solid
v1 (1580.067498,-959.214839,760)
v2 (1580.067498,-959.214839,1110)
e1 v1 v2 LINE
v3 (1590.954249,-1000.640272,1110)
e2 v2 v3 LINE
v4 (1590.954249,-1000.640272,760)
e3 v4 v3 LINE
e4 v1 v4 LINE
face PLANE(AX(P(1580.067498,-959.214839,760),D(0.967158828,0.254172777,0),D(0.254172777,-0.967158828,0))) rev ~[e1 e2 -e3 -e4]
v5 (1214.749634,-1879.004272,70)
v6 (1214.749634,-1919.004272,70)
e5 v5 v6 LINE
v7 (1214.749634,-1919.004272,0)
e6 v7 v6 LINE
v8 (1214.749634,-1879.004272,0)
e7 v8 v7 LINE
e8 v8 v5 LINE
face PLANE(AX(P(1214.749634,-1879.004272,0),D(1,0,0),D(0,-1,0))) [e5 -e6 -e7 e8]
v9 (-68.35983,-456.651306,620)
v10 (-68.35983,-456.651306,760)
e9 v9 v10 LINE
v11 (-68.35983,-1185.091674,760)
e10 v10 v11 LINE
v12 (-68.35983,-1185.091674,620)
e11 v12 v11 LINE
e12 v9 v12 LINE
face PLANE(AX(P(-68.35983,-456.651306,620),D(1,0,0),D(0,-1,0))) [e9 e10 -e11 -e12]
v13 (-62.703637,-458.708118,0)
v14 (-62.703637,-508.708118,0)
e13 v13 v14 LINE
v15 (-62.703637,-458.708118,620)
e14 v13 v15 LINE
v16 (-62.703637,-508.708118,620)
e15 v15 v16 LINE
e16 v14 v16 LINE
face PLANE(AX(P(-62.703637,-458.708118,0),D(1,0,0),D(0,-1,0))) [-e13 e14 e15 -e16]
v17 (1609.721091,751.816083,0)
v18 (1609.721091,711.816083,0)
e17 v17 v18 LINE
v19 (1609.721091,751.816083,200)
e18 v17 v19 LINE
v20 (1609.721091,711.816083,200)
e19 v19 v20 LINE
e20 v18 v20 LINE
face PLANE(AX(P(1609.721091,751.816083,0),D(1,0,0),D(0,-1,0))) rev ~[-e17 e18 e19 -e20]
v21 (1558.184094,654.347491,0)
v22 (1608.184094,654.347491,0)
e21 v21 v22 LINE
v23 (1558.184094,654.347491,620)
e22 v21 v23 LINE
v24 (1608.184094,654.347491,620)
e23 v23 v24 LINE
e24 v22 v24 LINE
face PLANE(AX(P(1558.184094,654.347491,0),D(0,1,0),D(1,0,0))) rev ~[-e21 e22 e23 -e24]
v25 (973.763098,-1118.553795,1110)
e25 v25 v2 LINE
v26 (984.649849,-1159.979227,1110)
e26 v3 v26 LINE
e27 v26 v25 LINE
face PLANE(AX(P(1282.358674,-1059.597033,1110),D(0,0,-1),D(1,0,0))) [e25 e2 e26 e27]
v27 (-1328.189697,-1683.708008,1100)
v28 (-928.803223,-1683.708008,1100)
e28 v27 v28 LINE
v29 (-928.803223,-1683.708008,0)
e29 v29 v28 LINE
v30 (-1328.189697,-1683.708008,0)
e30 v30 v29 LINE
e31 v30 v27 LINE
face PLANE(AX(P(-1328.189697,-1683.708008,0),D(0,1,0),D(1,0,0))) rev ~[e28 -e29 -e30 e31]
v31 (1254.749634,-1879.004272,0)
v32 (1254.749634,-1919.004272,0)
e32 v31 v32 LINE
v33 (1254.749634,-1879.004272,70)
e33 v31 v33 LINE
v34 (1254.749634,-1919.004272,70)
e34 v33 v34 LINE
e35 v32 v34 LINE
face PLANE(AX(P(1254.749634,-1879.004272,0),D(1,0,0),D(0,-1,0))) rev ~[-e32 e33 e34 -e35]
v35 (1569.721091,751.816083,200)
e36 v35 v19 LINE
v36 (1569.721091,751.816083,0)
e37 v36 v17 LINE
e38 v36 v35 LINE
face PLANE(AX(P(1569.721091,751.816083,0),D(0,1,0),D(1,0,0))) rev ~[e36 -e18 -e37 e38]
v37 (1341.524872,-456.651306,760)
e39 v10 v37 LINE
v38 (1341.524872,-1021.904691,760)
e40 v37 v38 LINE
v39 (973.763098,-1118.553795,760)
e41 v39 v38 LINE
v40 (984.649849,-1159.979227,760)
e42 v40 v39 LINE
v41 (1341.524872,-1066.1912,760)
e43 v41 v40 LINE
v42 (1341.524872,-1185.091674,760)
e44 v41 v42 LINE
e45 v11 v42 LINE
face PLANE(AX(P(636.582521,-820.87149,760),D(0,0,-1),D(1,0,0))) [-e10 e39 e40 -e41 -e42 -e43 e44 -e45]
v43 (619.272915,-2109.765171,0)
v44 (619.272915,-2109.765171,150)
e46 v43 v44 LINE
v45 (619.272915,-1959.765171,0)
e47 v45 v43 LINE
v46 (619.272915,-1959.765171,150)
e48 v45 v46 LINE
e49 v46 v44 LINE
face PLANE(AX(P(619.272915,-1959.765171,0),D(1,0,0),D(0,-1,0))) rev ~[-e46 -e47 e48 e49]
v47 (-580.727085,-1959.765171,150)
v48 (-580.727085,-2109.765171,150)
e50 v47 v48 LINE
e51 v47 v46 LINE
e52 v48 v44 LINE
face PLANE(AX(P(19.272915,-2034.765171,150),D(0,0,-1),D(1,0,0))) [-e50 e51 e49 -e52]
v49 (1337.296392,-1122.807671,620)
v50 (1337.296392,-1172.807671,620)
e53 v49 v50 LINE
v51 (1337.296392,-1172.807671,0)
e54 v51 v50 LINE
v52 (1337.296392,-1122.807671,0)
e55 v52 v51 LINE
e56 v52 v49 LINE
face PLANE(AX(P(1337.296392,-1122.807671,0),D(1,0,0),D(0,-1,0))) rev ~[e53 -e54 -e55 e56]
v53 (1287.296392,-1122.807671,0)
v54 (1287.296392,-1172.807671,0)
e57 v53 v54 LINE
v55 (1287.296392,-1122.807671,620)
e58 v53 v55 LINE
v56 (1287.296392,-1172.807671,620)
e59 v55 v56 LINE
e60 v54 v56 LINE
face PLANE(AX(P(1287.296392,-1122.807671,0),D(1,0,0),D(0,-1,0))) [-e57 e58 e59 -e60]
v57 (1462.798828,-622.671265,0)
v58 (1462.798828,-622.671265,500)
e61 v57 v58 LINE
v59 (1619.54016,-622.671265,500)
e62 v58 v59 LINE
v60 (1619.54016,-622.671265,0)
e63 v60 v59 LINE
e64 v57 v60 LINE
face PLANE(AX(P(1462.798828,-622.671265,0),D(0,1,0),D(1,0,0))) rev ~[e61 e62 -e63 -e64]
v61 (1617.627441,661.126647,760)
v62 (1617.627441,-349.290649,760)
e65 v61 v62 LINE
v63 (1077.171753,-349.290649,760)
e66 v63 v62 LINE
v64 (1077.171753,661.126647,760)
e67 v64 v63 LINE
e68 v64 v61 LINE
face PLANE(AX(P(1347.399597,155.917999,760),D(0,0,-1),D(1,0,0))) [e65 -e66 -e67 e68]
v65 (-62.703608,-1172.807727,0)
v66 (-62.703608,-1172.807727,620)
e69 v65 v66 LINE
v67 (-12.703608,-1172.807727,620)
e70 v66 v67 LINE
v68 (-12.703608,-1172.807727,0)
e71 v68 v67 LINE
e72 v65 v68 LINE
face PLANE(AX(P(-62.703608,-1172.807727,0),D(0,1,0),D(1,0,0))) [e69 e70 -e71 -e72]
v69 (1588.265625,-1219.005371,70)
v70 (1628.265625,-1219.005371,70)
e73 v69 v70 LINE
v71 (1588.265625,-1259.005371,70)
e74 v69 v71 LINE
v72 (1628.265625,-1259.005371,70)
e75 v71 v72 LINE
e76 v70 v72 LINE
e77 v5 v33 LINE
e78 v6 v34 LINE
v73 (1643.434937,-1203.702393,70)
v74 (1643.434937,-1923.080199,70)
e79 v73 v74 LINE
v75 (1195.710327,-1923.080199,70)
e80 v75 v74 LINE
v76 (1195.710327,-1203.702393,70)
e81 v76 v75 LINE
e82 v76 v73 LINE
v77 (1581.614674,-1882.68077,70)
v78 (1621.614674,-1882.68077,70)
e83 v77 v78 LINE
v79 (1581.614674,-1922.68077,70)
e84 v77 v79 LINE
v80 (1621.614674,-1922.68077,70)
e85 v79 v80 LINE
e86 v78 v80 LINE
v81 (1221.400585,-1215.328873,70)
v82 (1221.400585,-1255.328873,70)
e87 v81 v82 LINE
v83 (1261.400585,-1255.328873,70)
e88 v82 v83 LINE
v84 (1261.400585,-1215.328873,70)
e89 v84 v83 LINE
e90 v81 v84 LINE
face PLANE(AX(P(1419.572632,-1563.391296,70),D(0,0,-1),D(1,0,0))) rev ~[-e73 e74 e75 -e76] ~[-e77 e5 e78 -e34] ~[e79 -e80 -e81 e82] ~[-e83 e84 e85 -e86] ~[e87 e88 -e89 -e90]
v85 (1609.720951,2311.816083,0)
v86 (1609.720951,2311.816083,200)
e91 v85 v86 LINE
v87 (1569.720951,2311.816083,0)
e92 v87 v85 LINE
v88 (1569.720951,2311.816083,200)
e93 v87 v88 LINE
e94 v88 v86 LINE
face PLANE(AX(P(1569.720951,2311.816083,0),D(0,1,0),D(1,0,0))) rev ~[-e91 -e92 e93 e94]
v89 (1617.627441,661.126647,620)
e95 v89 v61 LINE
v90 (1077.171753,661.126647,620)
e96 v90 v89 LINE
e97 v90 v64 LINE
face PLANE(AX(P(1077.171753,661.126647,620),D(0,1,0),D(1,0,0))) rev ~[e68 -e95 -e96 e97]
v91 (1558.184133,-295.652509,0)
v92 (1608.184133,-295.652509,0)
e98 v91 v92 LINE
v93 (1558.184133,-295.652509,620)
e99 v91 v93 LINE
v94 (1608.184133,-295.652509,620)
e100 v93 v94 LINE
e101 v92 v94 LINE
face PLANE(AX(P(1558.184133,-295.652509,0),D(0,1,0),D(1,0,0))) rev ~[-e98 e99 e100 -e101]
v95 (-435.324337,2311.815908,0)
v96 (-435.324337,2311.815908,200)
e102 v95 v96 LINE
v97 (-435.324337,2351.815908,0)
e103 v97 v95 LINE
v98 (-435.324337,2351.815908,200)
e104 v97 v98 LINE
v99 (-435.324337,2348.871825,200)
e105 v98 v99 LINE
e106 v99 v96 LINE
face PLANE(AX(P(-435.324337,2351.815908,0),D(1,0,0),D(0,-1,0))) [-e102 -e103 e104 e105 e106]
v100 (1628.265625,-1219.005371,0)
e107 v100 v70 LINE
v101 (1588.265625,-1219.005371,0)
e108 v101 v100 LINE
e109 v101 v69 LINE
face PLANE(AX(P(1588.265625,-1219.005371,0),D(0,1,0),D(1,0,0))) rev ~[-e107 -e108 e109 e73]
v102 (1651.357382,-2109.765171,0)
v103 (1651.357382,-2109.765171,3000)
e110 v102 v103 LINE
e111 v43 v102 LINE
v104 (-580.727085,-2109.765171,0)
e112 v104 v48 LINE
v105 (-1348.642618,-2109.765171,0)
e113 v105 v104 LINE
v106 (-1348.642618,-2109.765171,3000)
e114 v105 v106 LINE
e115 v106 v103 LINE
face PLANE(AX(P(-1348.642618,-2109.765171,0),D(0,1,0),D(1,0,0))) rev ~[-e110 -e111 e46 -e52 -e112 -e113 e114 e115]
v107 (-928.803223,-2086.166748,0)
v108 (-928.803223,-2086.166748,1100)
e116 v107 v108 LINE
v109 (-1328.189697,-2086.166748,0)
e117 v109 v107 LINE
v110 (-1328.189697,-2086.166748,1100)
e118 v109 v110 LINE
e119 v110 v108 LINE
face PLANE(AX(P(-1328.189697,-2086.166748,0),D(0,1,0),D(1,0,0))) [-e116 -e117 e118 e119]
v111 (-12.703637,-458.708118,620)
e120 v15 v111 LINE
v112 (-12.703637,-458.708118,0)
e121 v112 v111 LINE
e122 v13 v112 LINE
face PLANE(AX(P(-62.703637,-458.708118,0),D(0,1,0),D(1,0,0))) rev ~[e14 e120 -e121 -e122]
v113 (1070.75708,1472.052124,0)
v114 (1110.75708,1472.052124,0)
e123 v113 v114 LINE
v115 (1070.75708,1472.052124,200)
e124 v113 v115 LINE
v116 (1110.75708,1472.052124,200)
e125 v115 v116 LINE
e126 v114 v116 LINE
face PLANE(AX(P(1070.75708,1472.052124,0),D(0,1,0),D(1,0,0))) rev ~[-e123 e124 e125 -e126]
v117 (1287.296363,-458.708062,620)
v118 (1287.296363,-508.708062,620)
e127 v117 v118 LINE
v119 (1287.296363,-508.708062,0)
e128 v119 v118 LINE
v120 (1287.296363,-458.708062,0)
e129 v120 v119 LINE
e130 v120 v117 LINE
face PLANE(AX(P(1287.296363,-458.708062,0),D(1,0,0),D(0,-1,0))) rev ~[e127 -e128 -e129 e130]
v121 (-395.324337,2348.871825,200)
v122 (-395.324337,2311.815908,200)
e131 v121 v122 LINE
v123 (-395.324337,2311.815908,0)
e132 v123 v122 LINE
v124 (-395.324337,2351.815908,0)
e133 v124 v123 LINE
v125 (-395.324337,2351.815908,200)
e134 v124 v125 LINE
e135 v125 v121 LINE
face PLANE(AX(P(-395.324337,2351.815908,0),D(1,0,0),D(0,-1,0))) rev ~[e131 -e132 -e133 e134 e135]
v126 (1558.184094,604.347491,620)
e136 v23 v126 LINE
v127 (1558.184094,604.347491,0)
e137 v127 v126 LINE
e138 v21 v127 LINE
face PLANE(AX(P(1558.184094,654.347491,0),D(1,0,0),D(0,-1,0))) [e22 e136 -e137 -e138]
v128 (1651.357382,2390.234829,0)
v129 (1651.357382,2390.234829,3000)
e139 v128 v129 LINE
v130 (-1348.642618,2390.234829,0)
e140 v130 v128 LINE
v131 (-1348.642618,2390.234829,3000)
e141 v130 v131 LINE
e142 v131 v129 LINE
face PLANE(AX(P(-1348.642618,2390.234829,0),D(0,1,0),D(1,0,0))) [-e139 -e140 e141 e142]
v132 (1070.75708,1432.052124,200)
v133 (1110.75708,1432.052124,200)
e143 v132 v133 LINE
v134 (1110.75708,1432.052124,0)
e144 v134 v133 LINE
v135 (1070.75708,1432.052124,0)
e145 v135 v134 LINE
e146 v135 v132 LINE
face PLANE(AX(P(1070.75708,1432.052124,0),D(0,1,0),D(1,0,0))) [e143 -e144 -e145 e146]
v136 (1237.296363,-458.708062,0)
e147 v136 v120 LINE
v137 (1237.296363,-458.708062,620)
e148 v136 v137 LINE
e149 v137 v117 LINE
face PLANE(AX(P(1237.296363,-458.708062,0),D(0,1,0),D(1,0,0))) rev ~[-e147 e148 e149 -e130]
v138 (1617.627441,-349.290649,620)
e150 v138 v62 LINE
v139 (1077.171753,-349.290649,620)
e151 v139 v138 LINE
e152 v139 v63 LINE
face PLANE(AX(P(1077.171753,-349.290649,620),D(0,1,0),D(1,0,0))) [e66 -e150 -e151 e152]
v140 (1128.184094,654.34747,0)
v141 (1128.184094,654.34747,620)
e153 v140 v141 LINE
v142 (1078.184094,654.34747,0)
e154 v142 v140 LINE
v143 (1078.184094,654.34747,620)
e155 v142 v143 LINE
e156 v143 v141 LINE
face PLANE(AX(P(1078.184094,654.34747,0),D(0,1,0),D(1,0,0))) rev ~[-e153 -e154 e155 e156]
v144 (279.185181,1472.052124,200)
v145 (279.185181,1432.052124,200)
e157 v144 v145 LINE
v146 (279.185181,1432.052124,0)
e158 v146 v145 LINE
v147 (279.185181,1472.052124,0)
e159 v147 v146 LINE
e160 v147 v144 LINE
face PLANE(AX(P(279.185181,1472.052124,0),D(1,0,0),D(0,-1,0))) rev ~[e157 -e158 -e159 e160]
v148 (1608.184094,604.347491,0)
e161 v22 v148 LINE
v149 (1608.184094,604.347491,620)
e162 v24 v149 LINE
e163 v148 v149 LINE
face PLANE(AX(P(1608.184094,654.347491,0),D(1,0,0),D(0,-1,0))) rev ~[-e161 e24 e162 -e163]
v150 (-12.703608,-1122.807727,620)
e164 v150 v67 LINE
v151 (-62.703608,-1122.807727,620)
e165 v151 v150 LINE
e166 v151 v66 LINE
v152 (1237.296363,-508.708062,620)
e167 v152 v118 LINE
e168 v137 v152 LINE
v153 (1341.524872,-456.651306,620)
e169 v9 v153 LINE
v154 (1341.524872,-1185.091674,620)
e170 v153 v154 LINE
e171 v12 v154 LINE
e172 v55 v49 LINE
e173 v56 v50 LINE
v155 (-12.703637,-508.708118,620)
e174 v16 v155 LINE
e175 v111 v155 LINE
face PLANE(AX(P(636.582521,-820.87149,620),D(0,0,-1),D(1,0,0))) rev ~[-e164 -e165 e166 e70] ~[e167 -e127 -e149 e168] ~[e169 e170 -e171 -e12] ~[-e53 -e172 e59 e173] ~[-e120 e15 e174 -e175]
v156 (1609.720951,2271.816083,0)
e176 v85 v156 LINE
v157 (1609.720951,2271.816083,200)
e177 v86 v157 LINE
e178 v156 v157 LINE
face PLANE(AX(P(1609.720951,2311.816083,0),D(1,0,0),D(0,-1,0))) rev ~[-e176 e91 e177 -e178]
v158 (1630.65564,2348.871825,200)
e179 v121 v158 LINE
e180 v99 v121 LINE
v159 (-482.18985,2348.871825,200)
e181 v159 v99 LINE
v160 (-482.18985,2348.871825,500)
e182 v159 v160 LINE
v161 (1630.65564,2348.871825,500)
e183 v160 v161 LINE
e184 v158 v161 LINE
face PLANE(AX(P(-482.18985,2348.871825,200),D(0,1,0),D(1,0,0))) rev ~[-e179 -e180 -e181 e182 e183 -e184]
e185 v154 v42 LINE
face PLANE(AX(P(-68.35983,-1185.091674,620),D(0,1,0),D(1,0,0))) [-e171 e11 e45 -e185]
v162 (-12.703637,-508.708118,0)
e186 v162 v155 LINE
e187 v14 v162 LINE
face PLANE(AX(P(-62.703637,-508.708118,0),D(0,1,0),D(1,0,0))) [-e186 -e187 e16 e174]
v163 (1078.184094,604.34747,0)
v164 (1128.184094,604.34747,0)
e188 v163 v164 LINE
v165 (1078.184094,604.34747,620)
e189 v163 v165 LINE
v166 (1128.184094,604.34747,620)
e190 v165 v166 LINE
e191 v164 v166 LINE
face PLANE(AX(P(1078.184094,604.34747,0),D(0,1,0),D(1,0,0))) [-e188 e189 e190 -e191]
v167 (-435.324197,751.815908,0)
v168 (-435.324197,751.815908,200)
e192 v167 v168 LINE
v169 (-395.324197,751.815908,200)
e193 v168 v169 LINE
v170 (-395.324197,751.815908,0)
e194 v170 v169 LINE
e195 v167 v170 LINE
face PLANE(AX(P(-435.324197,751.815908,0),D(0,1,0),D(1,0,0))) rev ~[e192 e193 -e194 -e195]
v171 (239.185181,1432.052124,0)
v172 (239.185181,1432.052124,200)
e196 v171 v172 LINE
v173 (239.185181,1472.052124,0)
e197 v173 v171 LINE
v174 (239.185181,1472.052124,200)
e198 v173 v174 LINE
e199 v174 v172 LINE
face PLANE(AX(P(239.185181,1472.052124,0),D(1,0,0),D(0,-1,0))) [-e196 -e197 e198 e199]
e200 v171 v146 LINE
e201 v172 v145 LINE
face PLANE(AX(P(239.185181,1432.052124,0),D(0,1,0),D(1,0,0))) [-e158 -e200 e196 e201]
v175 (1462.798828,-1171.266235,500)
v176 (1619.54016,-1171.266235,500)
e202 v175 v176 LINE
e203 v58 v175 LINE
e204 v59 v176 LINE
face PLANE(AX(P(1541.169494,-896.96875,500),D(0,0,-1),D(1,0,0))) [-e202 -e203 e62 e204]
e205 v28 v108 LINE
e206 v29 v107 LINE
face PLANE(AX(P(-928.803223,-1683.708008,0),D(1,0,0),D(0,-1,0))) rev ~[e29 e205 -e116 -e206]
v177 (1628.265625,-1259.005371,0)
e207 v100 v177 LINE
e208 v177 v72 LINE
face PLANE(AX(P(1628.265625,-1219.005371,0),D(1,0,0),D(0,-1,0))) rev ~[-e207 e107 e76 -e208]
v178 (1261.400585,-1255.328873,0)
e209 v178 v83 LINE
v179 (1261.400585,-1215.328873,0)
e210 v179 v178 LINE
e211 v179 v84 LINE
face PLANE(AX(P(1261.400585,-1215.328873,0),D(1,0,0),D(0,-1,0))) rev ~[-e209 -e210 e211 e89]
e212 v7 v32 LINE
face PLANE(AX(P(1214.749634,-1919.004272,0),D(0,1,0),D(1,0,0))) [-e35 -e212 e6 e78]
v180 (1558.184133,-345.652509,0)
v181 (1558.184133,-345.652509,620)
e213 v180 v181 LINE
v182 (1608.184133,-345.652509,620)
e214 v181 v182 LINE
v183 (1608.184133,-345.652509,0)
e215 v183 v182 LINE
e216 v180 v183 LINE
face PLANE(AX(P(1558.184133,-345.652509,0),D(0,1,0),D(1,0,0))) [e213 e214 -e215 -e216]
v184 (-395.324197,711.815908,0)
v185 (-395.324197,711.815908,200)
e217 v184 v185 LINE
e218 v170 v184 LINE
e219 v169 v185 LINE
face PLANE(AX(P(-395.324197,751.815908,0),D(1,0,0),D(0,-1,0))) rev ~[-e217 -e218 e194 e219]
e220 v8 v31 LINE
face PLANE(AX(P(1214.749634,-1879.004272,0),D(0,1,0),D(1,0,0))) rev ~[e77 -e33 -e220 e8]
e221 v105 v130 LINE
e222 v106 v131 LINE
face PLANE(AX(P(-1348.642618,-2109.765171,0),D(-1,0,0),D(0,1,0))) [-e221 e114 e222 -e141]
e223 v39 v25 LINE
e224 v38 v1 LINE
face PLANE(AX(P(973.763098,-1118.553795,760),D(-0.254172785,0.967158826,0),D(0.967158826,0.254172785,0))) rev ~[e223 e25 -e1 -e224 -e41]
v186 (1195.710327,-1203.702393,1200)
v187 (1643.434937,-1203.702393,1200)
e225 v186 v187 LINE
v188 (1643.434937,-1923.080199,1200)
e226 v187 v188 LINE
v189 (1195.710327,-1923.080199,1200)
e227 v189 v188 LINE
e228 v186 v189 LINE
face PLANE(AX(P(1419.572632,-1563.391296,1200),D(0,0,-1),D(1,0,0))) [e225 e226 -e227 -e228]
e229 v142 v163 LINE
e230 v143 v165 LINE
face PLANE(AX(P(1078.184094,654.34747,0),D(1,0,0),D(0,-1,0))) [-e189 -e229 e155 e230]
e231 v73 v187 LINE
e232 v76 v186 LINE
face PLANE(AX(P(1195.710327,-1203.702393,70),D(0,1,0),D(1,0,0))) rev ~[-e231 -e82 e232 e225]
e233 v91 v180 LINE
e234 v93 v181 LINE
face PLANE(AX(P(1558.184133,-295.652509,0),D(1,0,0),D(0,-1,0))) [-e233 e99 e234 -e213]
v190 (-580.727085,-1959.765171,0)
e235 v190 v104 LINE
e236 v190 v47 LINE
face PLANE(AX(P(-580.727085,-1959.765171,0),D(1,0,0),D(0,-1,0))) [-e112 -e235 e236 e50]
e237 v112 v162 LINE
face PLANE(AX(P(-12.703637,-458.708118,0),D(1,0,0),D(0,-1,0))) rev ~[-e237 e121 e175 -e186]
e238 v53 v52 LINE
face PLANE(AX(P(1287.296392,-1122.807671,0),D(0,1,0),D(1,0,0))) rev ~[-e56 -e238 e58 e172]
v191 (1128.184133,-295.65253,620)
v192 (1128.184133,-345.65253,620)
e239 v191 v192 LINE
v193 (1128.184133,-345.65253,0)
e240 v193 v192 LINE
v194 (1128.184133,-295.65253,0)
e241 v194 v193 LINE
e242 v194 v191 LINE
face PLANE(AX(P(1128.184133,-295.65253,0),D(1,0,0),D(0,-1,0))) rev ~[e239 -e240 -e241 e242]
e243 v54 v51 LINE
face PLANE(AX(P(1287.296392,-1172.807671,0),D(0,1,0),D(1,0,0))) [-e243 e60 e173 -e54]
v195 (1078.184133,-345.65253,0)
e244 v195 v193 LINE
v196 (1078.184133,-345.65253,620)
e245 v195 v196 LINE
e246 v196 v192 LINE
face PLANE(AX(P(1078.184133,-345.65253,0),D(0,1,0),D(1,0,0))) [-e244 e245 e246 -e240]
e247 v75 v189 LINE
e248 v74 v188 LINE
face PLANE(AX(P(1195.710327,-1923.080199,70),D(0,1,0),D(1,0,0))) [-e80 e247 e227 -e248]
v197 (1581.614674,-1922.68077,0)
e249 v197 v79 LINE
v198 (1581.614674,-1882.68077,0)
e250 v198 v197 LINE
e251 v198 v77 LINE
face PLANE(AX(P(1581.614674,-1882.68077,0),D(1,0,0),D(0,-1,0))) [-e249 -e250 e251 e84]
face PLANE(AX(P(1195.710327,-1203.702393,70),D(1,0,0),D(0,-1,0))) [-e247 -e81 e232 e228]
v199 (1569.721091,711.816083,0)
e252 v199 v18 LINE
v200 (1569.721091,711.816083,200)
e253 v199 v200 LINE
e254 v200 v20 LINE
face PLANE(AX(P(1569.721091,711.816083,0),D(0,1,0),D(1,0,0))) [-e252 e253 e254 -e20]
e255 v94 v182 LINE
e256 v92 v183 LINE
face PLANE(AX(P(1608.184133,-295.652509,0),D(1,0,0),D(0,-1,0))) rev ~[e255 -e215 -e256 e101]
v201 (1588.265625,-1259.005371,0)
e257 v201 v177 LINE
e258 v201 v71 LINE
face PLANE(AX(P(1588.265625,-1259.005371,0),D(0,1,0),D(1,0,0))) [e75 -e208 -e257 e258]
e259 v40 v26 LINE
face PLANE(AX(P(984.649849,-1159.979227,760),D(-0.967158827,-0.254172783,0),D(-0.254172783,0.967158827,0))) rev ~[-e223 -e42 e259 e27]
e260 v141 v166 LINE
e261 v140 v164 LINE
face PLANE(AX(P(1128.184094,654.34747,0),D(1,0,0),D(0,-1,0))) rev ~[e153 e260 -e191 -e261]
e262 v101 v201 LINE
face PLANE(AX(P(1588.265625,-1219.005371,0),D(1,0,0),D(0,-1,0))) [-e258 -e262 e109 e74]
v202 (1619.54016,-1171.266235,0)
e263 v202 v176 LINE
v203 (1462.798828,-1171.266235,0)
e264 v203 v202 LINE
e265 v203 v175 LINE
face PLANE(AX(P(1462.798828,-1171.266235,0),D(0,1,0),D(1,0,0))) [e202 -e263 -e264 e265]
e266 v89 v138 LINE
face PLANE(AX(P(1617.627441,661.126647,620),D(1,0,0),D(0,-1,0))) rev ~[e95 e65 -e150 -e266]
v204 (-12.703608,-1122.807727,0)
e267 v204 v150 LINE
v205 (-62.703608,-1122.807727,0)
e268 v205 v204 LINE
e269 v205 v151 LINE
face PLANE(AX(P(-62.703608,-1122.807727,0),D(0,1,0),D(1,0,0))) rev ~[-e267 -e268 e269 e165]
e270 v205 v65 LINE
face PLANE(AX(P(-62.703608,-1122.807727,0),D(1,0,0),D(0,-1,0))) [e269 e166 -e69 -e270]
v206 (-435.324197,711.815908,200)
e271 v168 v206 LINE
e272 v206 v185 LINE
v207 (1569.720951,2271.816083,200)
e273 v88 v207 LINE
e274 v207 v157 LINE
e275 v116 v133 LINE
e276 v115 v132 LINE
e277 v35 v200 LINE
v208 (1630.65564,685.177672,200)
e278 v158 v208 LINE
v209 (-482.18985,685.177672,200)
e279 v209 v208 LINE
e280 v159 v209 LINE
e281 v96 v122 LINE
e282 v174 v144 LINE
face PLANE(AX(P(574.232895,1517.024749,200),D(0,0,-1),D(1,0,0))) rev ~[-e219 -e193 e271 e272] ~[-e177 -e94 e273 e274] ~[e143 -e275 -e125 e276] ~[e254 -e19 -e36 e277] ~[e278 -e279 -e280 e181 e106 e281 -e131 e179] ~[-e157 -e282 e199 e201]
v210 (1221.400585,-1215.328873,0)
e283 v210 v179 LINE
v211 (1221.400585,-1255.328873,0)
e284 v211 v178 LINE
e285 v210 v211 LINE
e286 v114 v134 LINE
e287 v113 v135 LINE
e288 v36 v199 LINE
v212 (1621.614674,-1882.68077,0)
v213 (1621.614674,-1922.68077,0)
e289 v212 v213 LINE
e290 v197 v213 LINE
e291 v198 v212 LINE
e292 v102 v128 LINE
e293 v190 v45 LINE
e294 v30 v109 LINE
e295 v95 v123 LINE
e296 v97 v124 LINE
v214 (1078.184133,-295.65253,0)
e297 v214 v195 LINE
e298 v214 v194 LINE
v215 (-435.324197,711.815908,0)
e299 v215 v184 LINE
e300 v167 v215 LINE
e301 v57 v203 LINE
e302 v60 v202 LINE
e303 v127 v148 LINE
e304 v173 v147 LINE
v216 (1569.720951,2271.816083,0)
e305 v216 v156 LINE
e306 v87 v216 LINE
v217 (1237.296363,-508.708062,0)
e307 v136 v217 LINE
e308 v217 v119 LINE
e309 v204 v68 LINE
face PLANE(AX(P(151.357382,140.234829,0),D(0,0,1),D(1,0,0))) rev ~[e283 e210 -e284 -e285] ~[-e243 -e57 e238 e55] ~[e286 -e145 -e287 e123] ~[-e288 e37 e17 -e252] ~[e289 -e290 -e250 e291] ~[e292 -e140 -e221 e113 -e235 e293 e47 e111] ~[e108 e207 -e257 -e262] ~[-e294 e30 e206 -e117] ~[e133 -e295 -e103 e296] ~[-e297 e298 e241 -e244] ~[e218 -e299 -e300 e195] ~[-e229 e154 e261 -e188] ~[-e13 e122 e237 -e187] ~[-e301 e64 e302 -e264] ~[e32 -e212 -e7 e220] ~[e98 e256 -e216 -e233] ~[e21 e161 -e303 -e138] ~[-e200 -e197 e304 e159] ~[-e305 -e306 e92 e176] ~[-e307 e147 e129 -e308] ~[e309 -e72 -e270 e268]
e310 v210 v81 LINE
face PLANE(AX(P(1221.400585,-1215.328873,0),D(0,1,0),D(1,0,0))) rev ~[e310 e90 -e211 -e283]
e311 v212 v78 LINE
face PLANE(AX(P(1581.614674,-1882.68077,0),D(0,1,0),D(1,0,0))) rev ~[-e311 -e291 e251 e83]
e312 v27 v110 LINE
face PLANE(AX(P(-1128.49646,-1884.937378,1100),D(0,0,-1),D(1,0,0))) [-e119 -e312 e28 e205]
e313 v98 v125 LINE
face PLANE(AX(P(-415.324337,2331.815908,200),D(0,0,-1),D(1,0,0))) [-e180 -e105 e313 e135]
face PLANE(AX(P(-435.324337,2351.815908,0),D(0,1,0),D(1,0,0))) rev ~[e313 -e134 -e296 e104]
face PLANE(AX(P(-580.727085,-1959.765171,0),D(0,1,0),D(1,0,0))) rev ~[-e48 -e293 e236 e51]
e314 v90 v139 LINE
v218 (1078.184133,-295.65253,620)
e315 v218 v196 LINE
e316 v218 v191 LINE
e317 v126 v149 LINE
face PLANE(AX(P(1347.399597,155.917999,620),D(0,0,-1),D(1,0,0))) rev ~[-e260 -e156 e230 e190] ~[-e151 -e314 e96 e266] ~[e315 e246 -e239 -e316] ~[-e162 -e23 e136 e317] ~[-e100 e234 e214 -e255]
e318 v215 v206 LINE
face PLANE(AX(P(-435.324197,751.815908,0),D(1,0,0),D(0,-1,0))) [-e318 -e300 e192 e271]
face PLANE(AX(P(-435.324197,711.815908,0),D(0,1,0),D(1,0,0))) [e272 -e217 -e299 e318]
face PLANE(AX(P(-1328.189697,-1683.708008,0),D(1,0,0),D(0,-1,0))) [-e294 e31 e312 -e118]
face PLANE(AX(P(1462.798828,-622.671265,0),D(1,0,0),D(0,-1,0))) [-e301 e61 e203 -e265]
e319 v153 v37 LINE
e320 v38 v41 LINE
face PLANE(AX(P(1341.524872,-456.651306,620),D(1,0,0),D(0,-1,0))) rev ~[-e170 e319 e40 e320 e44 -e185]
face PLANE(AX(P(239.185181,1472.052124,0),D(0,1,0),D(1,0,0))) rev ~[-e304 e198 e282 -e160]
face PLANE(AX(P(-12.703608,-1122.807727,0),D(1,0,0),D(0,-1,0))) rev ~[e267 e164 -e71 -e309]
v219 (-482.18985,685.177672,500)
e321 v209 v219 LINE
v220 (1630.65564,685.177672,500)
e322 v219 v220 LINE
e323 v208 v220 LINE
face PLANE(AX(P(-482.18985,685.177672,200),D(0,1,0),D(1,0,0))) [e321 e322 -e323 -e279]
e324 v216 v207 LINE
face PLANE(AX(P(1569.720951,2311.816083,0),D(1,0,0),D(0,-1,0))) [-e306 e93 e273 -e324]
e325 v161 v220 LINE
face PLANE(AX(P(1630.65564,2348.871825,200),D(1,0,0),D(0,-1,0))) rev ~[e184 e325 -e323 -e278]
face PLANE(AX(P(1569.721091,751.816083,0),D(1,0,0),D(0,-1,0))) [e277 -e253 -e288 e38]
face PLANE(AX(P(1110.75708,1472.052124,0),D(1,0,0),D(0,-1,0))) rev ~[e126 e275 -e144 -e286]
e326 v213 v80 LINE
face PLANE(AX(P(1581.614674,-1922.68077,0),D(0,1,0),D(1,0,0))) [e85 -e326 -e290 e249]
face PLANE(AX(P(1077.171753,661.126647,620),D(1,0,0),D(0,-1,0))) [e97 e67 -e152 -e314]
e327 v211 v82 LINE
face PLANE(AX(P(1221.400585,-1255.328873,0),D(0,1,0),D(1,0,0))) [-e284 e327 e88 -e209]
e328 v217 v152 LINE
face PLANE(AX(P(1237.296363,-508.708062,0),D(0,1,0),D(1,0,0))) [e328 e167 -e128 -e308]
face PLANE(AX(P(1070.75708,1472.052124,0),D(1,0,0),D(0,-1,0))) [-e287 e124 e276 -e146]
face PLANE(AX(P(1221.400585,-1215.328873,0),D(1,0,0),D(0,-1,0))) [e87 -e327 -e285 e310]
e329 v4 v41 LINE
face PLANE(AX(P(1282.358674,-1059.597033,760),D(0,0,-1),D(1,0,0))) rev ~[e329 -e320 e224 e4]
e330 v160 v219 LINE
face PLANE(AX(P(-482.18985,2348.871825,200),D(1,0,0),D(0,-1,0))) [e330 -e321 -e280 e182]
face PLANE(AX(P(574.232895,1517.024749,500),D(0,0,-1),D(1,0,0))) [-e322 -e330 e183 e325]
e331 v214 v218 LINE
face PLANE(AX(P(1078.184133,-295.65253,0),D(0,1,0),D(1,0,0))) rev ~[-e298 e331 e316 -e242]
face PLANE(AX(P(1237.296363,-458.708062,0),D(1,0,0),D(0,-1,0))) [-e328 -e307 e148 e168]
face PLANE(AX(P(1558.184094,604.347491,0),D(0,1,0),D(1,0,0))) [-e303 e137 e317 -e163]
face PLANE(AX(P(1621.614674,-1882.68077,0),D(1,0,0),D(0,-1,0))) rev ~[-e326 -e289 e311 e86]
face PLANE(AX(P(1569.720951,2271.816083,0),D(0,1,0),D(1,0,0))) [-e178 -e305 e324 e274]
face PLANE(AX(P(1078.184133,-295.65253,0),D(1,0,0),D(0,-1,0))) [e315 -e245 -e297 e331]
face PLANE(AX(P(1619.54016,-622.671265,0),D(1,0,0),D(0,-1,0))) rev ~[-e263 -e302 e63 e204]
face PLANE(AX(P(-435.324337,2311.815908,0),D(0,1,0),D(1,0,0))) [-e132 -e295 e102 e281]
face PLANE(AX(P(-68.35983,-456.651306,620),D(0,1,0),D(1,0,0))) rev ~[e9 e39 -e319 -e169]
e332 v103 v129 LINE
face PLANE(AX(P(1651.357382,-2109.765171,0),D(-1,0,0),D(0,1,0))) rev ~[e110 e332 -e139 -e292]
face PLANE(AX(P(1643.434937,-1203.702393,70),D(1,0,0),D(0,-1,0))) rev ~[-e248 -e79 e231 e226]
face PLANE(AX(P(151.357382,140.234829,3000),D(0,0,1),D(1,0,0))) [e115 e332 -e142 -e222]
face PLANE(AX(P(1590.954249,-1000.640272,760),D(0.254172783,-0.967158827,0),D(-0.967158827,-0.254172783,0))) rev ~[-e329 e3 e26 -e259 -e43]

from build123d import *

# Parameters (mm, degrees)
SKETCH_W        = 3000
SKETCH_H        = 4500
PAD_DEPTH       = 3000
SKETCH001_W     = 50
SKETCH001_H     = 50
POCKET_DEPTH    = 620
SKETCH002_W     = 1409.884701
SKETCH002_H     = 728.440368
SKETCH002_W_2   = 540.455688
SKETCH002_H_2   = 1010.417297
POCKET001_DEPTH = 140
SKETCH003_W     = 40
SKETCH003_H     = 40
POCKET002_DEPTH = 200
SKETCH004_W     = 2112.84549
SKETCH004_H     = 1663.694153
POCKET003_DEPTH = 300
SKETCH005_W     = 156.741333
SKETCH005_H     = 548.59497
POCKET004_DEPTH = 500
POCKET005_DEPTH = 350
SKETCH007_W     = 40
SKETCH007_H     = 40
POCKET006_DEPTH = 70
SKETCH008_W     = 447.72461
SKETCH008_H     = 719.377807
POCKET007_DEPTH = 1130
SKETCH009_W     = 399.386474
SKETCH009_H     = 402.45874
POCKET008_DEPTH = 1100
SKETCH010_W     = 1200
SKETCH010_H     = 150
POCKET009_DEPTH = 150


with BuildPart() as part:
    # Sketch → Pad (new body)
    with BuildSketch(Plane.XY):
        with Locations((151.357382, 140.234829)):
            Rectangle(SKETCH_W, SKETCH_H)
    extrude(amount=PAD_DEPTH)

    # Sketch001 (on Face5 of Pad) → Pocket (cut)
    with BuildSketch(Plane(origin=(0, 0, 0), x_dir=(1, 0, 0), z_dir=(0, 0, -1))):
        with Locations((1312.296392, 1147.807671)):
            Rectangle(SKETCH001_W, SKETCH001_H)
        with Locations((1262.296363, 483.708062)):
            Rectangle(SKETCH001_W, SKETCH001_H)
        with Locations((-37.703608, 1147.807727)):
            Rectangle(SKETCH001_W, SKETCH001_H)
        with Locations((-37.703637, 483.708118)):
            Rectangle(SKETCH001_W, SKETCH001_H)
        with Locations((1583.184133, 320.652509)):
            Rectangle(SKETCH001_W, SKETCH001_H)
        with Locations((1583.184094, -629.347491)):
            Rectangle(SKETCH001_W, SKETCH001_H)
        with Locations((1103.184133, 320.65253)):
            Rectangle(SKETCH001_W, SKETCH001_H)
        with Locations((1103.184094, -629.34747)):
            Rectangle(SKETCH001_W, SKETCH001_H)
    extrude(amount=-POCKET_DEPTH, mode=Mode.SUBTRACT)

    # Sketch002 (on Face41 of Pocket) → Pocket001 (cut)
    with BuildSketch(Plane(origin=(0, 0, 620), x_dir=(1, 0, 0), z_dir=(0, 0, -1))):
        with Locations((636.582521, 820.87149)):
            Rectangle(SKETCH002_W, SKETCH002_H)
        with Locations((1347.399597, -155.917999)):
            Rectangle(SKETCH002_W_2, SKETCH002_H_2)
    extrude(amount=-POCKET001_DEPTH, mode=Mode.SUBTRACT)

    # Sketch003 (on Face4 of Pocket001) → Pocket002 (cut)
    with BuildSketch(Plane(origin=(0, 0, 0), x_dir=(1, 0, 0), z_dir=(0, 0, -1))):
        with Locations((1589.720951, -2291.816083)):
            Rectangle(SKETCH003_W, SKETCH003_H)
        with Locations((-415.324337, -2331.815908)):
            Rectangle(SKETCH003_W, SKETCH003_H)
        with Locations((1589.721091, -731.816083)):
            Rectangle(SKETCH003_W, SKETCH003_H)
        with Locations((-415.324197, -731.815908)):
            Rectangle(SKETCH003_W, SKETCH003_H)
        with Locations((259.185181, -1452.052124)):
            Rectangle(SKETCH003_W, SKETCH003_H)
        with Locations((1090.75708, -1452.052124)):
            Rectangle(SKETCH003_W, SKETCH003_H)
    extrude(amount=-POCKET002_DEPTH, mode=Mode.SUBTRACT)

    # Sketch004 (on Face65 of Pocket002) → Pocket003 (cut)
    with BuildSketch(Plane(origin=(0, 0, 200), x_dir=(1, 0, 0), z_dir=(0, 0, -1))):
        with Locations((574.232895, -1517.024749)):
            Rectangle(SKETCH004_W, SKETCH004_H)
    extrude(amount=-POCKET003_DEPTH, mode=Mode.SUBTRACT)

    # Sketch005 (on Face4 of Pocket003) → Pocket004 (cut)
    with BuildSketch(Plane(origin=(0, 0, 0), x_dir=(1, 0, 0), z_dir=(0, 0, -1))):
        with Locations((1541.169494, 896.96875)):
            Rectangle(SKETCH005_W, SKETCH005_H)
    extrude(amount=-POCKET004_DEPTH, mode=Mode.SUBTRACT)

    # Sketch006 (on Face84 of Pocket004) → Pocket005 (cut)
    with BuildSketch(Plane(origin=(0, 0, 760), x_dir=(1, 0, 0), z_dir=(0, 0, -1))):
        Polygon((973.763098, 1118.553795), (1580.067498, 959.214839), (1590.954249, 1000.640272), (984.649849, 1159.979227), align=None)
    extrude(amount=-POCKET005_DEPTH, mode=Mode.SUBTRACT)

    # Sketch007 (on Face4 of Pocket005) → Pocket006 (cut)
    with BuildSketch(Plane(origin=(0, 0, 0), x_dir=(1, 0, 0), z_dir=(0, 0, -1))):
        with Locations((1234.749634, 1899.004272)):
            Rectangle(SKETCH007_W, SKETCH007_H)
        with Locations((1601.614674, 1902.68077)):
            Rectangle(SKETCH007_W, SKETCH007_H)
        with Locations((1241.400585, 1235.328873)):
            Rectangle(SKETCH007_W, SKETCH007_H)
        with Locations((1608.265625, 1239.005371)):
            Rectangle(SKETCH007_W, SKETCH007_H)
    extrude(amount=-POCKET006_DEPTH, mode=Mode.SUBTRACT)

    # Sketch008 (on Face84 of Pocket006) → Pocket007 (cut)
    with BuildSketch(Plane(origin=(0, 0, 70), x_dir=(1, 0, 0), z_dir=(0, 0, -1))):
        with Locations((1419.572632, 1563.391296)):
            Rectangle(SKETCH008_W, SKETCH008_H)
    extrude(amount=-POCKET007_DEPTH, mode=Mode.SUBTRACT)

    # Sketch009 (on Face4 of Pocket007) → Pocket008 (cut)
    with BuildSketch(Plane(origin=(0, 0, 0), x_dir=(1, 0, 0), z_dir=(0, 0, -1))):
        with Locations((-1128.49646, 1884.937378)):
            Rectangle(SKETCH009_W, SKETCH009_H)
    extrude(amount=-POCKET008_DEPTH, mode=Mode.SUBTRACT)

    # Sketch010 (on Face4 of Pocket008) → Pocket009 (cut)
    with BuildSketch(Plane(origin=(0, 0, 0), x_dir=(1, 0, 0), z_dir=(0, 0, -1))):
        with Locations((19.272915, 2034.765171)):
            Rectangle(SKETCH010_W, SKETCH010_H)
    extrude(amount=-POCKET009_DEPTH, mode=Mode.SUBTRACT)


solid = part.part
